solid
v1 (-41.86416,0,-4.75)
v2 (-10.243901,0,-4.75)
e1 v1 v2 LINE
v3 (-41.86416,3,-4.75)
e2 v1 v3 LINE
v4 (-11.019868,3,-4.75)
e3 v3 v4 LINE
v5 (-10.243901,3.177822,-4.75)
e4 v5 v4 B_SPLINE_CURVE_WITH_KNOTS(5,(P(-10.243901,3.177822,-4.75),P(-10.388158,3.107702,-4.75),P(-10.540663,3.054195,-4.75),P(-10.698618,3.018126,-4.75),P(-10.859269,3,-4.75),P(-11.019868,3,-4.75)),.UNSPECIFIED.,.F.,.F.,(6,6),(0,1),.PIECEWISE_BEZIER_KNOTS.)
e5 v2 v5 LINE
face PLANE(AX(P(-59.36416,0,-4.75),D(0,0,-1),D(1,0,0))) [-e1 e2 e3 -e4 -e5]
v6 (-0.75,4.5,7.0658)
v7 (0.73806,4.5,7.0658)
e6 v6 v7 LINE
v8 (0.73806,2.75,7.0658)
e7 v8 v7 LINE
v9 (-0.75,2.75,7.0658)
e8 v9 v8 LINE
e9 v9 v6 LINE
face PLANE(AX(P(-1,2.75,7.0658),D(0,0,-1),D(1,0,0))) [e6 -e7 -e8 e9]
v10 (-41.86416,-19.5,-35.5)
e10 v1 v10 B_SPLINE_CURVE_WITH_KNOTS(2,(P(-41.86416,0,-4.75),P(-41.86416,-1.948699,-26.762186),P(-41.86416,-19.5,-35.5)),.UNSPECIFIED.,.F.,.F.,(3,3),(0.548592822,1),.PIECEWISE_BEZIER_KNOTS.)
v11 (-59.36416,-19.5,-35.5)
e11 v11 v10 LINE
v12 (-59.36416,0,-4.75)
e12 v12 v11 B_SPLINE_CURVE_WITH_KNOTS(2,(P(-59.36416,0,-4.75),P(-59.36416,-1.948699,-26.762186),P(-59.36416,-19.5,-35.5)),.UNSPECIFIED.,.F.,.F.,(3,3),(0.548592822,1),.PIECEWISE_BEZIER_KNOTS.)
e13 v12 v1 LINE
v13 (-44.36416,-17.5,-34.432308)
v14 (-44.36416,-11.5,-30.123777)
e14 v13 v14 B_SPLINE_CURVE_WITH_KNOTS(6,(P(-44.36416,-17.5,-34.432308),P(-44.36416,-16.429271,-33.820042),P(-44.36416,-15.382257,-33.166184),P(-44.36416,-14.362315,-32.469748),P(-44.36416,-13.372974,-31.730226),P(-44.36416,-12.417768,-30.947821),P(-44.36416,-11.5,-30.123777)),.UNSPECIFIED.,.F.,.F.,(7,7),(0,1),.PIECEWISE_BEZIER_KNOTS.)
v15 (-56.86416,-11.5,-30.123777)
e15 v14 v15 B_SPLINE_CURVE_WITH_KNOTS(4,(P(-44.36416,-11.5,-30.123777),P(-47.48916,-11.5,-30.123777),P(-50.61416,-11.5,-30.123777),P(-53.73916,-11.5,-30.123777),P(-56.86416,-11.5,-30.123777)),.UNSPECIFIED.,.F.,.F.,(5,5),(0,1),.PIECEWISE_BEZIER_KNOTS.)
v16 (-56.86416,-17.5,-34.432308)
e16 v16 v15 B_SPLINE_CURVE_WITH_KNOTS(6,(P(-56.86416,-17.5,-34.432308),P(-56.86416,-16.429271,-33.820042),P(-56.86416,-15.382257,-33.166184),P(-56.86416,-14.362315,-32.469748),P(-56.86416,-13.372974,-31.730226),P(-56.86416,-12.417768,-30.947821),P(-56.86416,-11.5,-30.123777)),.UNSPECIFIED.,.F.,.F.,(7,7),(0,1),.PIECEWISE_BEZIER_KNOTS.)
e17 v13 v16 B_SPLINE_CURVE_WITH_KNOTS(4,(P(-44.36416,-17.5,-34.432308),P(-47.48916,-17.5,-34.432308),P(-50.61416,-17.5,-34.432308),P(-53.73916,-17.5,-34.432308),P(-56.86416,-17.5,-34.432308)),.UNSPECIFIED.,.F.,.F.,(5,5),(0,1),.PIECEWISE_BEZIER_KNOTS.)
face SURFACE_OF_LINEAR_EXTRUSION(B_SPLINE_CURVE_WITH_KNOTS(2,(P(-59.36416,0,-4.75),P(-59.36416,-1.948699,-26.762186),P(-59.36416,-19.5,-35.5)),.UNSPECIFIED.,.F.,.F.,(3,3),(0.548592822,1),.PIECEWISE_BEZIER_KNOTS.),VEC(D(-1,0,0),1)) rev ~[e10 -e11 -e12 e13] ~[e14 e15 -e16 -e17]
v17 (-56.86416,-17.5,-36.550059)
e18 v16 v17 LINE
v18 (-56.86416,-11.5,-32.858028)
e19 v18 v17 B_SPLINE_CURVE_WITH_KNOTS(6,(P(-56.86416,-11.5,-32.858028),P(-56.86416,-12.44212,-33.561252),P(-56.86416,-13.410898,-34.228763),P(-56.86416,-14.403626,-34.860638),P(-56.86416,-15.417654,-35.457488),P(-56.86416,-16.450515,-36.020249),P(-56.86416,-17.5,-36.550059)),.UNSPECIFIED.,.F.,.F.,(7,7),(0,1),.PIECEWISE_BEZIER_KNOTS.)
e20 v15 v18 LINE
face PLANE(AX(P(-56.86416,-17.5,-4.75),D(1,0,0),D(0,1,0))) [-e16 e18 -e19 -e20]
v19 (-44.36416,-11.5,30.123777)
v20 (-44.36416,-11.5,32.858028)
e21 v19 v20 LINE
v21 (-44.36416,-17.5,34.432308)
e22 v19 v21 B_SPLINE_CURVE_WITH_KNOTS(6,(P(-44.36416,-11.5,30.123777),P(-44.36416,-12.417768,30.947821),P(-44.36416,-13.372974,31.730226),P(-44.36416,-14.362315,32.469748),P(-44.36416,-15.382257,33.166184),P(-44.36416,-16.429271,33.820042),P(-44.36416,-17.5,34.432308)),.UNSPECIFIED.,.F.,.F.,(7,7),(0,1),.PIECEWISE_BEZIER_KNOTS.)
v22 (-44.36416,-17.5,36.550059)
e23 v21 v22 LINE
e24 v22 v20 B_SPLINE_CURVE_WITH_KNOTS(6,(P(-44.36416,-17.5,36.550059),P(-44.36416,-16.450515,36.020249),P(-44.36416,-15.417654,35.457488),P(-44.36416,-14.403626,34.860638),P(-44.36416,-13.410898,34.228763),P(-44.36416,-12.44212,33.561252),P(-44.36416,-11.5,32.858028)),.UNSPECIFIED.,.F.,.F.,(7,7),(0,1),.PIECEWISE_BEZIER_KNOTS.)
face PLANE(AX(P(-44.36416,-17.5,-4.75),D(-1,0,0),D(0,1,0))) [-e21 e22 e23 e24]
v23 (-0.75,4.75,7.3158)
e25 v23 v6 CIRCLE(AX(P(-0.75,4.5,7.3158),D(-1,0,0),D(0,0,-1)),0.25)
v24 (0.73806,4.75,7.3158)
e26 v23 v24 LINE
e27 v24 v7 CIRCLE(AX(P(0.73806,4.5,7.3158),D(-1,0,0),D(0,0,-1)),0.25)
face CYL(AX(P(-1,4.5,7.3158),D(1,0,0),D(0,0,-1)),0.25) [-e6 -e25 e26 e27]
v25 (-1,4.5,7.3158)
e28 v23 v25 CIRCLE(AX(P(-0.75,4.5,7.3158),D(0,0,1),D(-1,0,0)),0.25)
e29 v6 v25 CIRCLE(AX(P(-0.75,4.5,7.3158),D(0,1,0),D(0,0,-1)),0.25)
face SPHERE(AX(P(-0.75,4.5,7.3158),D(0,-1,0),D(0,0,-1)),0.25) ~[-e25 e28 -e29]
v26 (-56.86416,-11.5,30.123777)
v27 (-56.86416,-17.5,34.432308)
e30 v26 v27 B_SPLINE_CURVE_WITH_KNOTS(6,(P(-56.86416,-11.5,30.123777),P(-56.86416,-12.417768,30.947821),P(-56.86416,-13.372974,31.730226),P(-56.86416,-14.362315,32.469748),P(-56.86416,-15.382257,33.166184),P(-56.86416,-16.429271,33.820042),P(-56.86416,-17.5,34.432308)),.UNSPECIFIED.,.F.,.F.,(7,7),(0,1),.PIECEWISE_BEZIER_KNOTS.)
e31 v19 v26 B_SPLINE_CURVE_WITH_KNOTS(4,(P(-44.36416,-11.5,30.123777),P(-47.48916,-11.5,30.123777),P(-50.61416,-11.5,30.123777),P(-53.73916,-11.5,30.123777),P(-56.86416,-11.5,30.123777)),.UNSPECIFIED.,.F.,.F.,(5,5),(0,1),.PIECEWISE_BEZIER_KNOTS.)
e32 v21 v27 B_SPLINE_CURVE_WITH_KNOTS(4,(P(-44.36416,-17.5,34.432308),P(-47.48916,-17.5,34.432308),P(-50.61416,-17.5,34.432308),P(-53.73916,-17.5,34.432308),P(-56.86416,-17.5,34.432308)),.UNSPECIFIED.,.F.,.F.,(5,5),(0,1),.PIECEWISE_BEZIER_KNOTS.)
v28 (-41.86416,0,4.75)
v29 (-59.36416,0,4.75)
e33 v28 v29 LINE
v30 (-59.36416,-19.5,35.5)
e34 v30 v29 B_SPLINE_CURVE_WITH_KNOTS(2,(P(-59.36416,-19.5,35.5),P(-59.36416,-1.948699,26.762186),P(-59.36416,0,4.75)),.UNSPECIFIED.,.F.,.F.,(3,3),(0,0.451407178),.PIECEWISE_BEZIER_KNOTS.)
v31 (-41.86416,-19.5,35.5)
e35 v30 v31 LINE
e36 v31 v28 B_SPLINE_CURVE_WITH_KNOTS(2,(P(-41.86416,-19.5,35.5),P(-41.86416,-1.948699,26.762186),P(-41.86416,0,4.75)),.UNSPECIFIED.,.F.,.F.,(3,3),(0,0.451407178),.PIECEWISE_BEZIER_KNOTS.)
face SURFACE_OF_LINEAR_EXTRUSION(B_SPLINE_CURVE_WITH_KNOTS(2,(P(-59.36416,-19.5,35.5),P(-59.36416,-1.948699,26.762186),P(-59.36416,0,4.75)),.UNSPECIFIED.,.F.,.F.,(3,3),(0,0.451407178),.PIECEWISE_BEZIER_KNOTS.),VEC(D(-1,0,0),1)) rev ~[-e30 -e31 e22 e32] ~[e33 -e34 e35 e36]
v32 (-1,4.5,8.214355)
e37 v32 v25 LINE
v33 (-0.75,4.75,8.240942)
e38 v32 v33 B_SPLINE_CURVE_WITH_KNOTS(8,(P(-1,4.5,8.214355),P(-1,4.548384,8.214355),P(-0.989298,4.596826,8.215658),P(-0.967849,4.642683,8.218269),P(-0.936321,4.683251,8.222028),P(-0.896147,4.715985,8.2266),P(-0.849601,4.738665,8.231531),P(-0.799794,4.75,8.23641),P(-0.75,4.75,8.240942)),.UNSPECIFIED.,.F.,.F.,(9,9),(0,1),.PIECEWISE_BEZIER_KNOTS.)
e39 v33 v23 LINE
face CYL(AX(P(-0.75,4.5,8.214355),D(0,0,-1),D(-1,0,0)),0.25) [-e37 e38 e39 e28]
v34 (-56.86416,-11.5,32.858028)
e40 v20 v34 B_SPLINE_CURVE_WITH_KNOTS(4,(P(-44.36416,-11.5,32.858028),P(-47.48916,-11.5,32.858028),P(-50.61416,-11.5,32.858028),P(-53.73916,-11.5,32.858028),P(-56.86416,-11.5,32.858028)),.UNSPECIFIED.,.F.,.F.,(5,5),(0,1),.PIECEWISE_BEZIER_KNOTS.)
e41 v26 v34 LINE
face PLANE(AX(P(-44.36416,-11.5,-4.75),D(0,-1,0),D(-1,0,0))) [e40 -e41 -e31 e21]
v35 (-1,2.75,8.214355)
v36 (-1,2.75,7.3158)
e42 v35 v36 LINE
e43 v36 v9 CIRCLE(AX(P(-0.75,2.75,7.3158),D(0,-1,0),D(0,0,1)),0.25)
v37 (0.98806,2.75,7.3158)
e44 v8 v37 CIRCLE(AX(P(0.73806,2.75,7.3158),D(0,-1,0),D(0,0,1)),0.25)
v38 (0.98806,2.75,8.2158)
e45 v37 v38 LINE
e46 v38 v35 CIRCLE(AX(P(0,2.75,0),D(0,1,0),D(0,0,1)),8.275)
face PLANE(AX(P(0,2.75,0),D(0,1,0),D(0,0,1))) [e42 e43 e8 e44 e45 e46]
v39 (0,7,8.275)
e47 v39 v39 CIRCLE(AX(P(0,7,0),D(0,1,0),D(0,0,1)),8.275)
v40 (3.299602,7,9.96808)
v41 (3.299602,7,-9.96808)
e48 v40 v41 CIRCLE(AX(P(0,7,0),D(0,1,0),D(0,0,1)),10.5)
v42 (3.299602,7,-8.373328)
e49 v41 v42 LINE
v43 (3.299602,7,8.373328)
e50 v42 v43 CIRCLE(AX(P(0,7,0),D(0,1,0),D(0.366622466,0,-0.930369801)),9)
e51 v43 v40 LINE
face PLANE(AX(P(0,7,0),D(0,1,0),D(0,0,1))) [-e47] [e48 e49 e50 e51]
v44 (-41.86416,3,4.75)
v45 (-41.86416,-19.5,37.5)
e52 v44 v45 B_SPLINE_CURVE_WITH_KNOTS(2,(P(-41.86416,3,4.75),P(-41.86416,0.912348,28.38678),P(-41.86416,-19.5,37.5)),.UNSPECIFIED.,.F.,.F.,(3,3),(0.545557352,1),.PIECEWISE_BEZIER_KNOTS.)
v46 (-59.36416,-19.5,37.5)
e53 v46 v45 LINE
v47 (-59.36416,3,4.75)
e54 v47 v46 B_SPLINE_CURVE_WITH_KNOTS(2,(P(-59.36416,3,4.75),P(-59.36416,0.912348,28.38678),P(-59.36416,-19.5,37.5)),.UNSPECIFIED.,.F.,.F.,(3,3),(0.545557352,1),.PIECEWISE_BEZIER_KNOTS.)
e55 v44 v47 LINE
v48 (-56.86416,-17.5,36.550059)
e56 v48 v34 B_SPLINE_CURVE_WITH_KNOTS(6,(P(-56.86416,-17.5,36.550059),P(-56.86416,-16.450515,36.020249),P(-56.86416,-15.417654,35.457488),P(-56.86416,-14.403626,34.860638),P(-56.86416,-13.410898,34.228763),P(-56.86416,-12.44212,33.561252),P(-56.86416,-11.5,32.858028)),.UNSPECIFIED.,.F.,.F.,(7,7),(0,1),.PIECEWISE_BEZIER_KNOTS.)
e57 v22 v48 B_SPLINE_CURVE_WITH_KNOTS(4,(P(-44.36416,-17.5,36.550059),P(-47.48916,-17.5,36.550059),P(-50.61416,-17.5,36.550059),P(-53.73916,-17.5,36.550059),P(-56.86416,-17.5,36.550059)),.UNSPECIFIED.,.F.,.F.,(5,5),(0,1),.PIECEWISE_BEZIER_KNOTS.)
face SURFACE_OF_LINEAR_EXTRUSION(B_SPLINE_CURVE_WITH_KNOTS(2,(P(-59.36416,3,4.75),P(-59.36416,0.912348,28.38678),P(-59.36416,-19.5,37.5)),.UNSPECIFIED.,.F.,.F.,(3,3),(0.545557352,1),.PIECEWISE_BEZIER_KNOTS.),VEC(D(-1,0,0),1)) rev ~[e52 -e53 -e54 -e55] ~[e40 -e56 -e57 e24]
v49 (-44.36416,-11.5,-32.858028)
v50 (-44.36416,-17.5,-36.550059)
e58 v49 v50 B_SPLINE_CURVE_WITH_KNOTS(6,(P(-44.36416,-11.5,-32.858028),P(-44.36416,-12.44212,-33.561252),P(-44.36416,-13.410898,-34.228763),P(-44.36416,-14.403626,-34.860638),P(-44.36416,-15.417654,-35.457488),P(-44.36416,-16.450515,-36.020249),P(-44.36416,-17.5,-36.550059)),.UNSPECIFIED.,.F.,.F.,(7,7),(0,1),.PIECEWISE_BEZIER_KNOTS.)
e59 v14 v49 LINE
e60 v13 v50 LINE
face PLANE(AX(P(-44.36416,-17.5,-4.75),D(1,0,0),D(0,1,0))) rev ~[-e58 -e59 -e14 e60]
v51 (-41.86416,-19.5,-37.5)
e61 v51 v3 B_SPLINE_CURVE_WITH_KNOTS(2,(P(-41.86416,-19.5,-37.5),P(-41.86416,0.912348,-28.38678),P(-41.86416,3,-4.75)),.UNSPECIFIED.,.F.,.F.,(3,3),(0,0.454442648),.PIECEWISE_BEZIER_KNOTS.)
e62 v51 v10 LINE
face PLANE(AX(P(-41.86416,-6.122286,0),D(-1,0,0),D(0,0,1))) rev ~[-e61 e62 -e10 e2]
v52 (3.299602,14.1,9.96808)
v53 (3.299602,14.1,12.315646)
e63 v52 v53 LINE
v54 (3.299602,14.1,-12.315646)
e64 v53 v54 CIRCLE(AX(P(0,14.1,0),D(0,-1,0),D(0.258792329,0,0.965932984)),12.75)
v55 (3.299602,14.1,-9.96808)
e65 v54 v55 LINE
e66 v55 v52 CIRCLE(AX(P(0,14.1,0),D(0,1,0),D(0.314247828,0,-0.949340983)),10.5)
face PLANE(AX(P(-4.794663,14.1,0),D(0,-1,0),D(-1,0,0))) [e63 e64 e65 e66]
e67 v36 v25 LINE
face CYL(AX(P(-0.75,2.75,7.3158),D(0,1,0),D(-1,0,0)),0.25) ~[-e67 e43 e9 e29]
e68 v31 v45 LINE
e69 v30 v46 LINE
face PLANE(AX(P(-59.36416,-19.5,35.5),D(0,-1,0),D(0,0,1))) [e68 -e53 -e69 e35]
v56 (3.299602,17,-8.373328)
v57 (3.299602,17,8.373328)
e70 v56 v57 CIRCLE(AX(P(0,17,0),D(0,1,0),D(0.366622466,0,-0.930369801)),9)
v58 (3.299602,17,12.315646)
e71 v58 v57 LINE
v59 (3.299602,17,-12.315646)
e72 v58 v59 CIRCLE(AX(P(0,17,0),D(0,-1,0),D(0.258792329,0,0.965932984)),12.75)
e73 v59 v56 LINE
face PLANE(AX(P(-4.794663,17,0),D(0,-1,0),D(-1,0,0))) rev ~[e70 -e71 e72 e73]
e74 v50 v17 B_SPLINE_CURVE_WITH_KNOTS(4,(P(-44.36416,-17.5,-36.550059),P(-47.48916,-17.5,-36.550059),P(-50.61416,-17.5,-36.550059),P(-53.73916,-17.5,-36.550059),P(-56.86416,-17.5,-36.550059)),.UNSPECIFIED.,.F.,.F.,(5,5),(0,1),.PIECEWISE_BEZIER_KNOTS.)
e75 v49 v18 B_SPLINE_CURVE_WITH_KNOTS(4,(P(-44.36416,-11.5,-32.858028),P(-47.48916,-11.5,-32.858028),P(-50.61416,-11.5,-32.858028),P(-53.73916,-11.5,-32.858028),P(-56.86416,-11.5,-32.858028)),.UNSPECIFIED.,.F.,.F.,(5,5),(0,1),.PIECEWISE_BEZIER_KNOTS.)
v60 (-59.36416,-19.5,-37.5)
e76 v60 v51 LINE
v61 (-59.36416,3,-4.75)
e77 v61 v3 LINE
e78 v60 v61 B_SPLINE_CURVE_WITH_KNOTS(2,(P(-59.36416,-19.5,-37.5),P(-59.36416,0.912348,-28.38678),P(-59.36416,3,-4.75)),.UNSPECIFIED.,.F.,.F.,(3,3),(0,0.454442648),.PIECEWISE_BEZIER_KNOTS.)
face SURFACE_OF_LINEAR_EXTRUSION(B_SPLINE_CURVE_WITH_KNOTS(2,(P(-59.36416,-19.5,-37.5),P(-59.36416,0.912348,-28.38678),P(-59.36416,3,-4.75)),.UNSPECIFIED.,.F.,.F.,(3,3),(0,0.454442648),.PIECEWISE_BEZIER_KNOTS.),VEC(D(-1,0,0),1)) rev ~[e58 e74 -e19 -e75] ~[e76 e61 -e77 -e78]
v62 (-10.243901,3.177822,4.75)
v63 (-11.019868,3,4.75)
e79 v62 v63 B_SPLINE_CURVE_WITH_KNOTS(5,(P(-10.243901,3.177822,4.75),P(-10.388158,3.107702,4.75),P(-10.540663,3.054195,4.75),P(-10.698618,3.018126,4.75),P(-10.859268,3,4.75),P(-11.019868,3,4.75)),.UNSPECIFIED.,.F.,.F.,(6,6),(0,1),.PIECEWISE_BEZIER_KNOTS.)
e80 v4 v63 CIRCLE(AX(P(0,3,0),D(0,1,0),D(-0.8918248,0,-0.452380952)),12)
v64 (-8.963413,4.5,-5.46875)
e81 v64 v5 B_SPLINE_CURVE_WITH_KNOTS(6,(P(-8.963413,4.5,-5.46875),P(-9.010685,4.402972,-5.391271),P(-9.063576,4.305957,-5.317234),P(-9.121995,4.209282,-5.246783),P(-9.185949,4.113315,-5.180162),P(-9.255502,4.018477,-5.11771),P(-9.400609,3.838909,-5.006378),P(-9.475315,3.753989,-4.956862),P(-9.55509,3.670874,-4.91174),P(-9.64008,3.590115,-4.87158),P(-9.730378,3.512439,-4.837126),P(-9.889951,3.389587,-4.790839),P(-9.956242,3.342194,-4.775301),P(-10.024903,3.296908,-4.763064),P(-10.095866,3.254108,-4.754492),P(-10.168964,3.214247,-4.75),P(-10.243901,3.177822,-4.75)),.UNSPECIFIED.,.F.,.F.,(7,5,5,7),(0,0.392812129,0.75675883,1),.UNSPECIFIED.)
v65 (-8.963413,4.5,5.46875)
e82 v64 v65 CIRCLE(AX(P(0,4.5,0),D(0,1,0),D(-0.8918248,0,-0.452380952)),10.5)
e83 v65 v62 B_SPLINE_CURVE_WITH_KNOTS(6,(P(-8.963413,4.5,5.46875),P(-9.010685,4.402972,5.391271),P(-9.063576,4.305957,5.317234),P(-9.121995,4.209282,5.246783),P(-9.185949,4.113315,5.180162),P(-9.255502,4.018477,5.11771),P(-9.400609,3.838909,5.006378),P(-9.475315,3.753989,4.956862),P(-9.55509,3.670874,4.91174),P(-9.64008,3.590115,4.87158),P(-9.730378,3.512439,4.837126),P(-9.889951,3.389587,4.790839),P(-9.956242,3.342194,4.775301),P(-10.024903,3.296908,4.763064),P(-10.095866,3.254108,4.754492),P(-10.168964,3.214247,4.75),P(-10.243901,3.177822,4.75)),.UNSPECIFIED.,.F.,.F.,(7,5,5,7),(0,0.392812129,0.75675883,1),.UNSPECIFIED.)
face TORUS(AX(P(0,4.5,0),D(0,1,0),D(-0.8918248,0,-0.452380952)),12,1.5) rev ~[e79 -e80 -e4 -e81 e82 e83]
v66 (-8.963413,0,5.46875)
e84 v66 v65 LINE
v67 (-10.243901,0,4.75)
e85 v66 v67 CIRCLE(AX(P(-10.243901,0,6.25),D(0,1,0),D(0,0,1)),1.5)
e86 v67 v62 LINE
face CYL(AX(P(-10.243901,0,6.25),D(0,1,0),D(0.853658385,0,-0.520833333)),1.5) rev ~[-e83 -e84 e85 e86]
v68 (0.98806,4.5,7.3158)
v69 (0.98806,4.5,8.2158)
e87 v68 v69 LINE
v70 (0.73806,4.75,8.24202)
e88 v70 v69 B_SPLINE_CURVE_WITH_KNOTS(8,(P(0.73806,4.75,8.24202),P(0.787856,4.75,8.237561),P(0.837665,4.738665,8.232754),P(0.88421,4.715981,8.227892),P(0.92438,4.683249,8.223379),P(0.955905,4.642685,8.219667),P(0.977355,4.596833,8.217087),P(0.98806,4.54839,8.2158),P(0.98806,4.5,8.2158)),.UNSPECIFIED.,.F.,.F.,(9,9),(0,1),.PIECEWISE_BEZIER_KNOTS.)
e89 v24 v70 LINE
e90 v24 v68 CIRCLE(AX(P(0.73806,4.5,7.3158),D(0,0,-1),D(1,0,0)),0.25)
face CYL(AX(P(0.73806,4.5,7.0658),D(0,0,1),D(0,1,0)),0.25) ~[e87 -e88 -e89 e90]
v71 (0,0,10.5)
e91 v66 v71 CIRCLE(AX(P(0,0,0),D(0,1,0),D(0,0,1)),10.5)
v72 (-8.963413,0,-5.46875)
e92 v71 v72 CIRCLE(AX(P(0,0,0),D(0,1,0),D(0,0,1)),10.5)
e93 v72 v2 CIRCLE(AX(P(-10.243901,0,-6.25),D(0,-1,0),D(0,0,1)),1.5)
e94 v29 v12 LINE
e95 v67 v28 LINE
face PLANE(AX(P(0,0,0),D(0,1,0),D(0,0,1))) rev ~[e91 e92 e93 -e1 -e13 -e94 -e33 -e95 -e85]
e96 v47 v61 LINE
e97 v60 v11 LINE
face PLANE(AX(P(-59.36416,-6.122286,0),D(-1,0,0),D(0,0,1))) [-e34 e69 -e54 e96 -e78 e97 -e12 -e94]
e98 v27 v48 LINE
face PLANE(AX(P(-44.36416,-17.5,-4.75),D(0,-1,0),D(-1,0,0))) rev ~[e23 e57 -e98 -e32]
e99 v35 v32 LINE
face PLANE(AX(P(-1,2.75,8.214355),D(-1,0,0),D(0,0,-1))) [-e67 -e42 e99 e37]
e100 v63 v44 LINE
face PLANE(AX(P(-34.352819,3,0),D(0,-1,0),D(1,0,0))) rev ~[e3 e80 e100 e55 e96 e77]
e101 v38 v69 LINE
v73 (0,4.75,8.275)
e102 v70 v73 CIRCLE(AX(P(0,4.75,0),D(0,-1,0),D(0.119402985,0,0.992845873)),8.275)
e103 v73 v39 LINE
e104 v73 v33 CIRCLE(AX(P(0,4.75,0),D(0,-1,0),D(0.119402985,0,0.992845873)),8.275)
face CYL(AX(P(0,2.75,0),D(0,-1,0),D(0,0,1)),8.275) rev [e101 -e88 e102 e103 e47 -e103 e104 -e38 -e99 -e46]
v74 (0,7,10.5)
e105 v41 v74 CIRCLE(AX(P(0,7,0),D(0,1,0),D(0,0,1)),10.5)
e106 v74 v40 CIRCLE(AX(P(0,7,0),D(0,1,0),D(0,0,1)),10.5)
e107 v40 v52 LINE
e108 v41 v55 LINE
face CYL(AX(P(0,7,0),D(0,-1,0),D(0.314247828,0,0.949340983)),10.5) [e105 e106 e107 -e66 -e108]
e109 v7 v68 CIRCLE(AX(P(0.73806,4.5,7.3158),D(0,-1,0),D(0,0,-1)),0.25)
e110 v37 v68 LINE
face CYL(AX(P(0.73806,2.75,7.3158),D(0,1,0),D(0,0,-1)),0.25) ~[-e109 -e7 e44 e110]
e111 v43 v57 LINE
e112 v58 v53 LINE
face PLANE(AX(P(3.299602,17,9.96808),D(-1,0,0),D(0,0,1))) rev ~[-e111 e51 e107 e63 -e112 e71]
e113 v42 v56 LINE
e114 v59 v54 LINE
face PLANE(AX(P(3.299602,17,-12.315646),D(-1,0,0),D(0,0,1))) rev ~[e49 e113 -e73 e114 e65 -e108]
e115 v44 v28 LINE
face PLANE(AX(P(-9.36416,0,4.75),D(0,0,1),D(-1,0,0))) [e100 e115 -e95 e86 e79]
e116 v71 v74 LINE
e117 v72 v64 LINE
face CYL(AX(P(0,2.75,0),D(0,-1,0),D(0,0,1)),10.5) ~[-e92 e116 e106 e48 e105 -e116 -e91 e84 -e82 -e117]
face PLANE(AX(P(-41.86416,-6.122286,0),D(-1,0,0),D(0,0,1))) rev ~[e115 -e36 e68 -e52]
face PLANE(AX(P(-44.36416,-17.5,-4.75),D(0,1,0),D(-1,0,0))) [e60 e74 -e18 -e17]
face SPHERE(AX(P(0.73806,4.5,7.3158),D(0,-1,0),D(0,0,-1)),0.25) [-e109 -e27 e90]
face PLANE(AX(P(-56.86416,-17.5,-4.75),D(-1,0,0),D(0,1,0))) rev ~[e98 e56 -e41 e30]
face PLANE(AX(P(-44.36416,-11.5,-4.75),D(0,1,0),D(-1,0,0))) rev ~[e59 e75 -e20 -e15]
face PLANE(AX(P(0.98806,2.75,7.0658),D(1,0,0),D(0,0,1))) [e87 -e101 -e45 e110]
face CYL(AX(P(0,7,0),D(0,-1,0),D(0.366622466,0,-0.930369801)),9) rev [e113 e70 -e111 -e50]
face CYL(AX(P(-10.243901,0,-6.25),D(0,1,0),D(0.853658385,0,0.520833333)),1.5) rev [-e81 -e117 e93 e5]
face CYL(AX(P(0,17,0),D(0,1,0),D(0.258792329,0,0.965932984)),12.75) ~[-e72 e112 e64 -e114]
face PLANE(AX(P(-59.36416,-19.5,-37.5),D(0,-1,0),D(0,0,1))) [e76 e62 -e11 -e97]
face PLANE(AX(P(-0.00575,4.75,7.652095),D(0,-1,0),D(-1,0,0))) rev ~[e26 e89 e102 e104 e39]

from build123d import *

# Parameters (mm, degrees)
F_0_1MM_FIT_FOR_POT_R   = 10.5
BOSS_EXTRUDE1_DEPTH     = 2.75
SKETCH4_R               = 10.5
SKETCH4_R_2             = 8.275
BOSS_EXTRUDE2_DEPTH     = 4.25
BOSS_EXTRUDE3_DEPTH     = 2
FILLET1_R               = 0.25
BOSS_EXTRUDE6_DEPTH     = 10
BOSS_EXTRUDE7_DEPTH     = 2.9
BOSS_EXTRUDE8_DEPTH     = 3
FILLET2_R               = 1.5
BOSS_EXTRUDE9_DEPTH     = 17.5
SKETCH11_W              = 12.5
SKETCH11_H              = 6
CUT_EXTRUDE1_DEPTH      = 76.428217957
CUT_EXTRUDE1_DEPTH_BACK = 76.428217957


with BuildPart() as part:
    # 0.1mm fit for pot → Boss-Extrude1 (new body)
    with BuildSketch(Plane(origin=(0, 0, 0), x_dir=(1, 0, 0), z_dir=(0, 1, 0))):
        with Locations(Location((0, 0, 0), (0, 0, 270))):
            Circle(F_0_1MM_FIT_FOR_POT_R)
    extrude(amount=BOSS_EXTRUDE1_DEPTH)

    # Sketch4 → Boss-Extrude2 (add)
    with BuildSketch(Plane(origin=(0, 2.75, 0), x_dir=(1, 0, 0), z_dir=(0, 1, 0))):
        with Locations(Location((0, 0, 0), (0, 0, 270))):
            Circle(SKETCH4_R)
        with Locations(Location((0, 0, 0), (0, 0, 270))):
            Circle(SKETCH4_R_2, mode=Mode.SUBTRACT)
    extrude(amount=BOSS_EXTRUDE2_DEPTH)

    # Sketch5 → Boss-Extrude3 (add)
    with BuildSketch(Plane(origin=(0, 2.75, 0), x_dir=(1, 0, 0), z_dir=(0, 1, 0))):
        with BuildLine():
            Line((-1, -8.214354813), (-1, -7.065799598))
            Line((-1, -7.065799598), (0.988059701, -7.065799598))
            Line((0.988059701, -7.065799598), (0.988059701, -8.215799598))
            ThreePointArc((0.988059701, -8.215799598), (-0.006013695, -8.274997815), (-1, -8.214354813))
        make_face()
    extrude(amount=BOSS_EXTRUDE3_DEPTH)

    # Fillet1
    fillet1_edges = [part.edges().sort_by_distance(p)[0] for p in [
        (0.988059701, 3.75, 7.065799598),
        (-1, 3.75, 7.065799598),
        (-0.005970149, 4.75, 7.065799598),
        (-1, 4.75, 7.640077205),
        (0.988059701, 4.75, 7.640799598),
    ]]
    fillet(fillet1_edges, radius=FILLET1_R)

    # Sketch7 → Boss-Extrude6 (add)
    with BuildSketch(Plane(origin=(0, 7, 0), x_dir=(1, 0, 0), z_dir=(0, 1, 0))):
        with BuildLine():
            Line((3.299602194, 9.968080325), (3.299602194, 8.373328213))
            ThreePointArc((3.299602194, 8.373328213), (-9, 0), (3.299602194, -8.373328213))
            Line((3.299602194, -8.373328213), (3.299602194, -9.968080325))
            ThreePointArc((3.299602194, -9.968080325), (-10.5, 0), (3.299602194, 9.968080325))
        make_face()
    extrude(amount=BOSS_EXTRUDE6_DEPTH)

    # Sketch8 → Boss-Extrude7 (add)
    with BuildSketch(Plane(origin=(0, 17, 0), x_dir=(1, 0, 0), z_dir=(0, 1, 0))):
        with BuildLine():
            Line((3.299602194, 12.315645552), (3.299602194, 9.968080325))
            ThreePointArc((3.299602194, 9.968080325), (-10.5, 0), (3.299602194, -9.968080325))
            Line((3.299602194, -9.968080325), (3.299602194, -12.315645552))
            ThreePointArc((3.299602194, -12.315645552), (-12.75, 0), (3.299602194, 12.315645552))
        make_face()
    extrude(amount=-BOSS_EXTRUDE7_DEPTH)

    # Sketch9 → Boss-Extrude8 (add)
    with BuildSketch(Plane.XZ):
        with BuildLine():
            Line((-9.3641604, 4.75), (-59.3641604, 4.75))
            Line((-59.3641604, 4.75), (-59.3641604, -4.75))
            Line((-59.3641604, -4.75), (-9.3641604, -4.75))
            ThreePointArc((-9.3641604, -4.75), (-10.5, 0), (-9.3641604, 4.75))
        make_face()
    extrude(amount=-BOSS_EXTRUDE8_DEPTH)

    # Fillet2
    fillet2_edges = [part.edges().sort_by_distance(p)[0] for p in [
        (-10.5, 3, 0),
        (-9.3641604, 1.5, 4.75),
        (-9.3641604, 1.5, -4.75),
    ]]
    fillet(fillet2_edges, radius=FILLET2_R)

    # Sketch10 → Boss-Extrude9 (add)
    with BuildSketch(Plane.ZY.offset(59.3641604)):
        with BuildLine():
            Line((-37.5, -19.5), (-35.5, -19.5))
            add(Edge.make_bspline(
                [(-4.75, 0), (-26.762186457, -1.948698647), (-35.5, -19.5)],
                knots=[0.548592822, 0.548592822, 0.548592822, 1, 1, 1], degree=2))
            Line((-4.75, 0), (4.75, 0))
            add(Edge.make_bspline(
                [(35.5, -19.5), (26.762186461, -1.948698647), (4.75, 0)],
                knots=[0, 0, 0, 0.451407178, 0.451407178, 0.451407178], degree=2))
            Line((35.5, -19.5), (37.5, -19.5))
            add(Edge.make_bspline(
                [(4.75, 3), (28.386779804, 0.912348176), (37.5, -19.5)],
                knots=[0.545557352, 0.545557352, 0.545557352, 1, 1, 1], degree=2))
            Line((4.75, 3), (-4.75, 3))
            add(Edge.make_bspline(
                [(-37.5, -19.5), (-28.386779803, 0.912348176), (-4.75, 3)],
                knots=[0, 0, 0, 0.454442648, 0.454442648, 0.454442648], degree=2))
        make_face()
    extrude(amount=-BOSS_EXTRUDE9_DEPTH)

    # Sketch11 → Cut-Extrude1 (cut, two sides)
    with BuildSketch(Plane(origin=(0, 0, -4.75), x_dir=(-1, 0, 0), z_dir=(0, 0, -1))) as cut_extrude1_sk:
        with Locations((50.6141604, -14.5)):
            Rectangle(SKETCH11_W, SKETCH11_H)
    extrude(amount=CUT_EXTRUDE1_DEPTH, mode=Mode.SUBTRACT)
    extrude(cut_extrude1_sk.sketch, amount=-CUT_EXTRUDE1_DEPTH_BACK, mode=Mode.SUBTRACT)


solid = part.part
